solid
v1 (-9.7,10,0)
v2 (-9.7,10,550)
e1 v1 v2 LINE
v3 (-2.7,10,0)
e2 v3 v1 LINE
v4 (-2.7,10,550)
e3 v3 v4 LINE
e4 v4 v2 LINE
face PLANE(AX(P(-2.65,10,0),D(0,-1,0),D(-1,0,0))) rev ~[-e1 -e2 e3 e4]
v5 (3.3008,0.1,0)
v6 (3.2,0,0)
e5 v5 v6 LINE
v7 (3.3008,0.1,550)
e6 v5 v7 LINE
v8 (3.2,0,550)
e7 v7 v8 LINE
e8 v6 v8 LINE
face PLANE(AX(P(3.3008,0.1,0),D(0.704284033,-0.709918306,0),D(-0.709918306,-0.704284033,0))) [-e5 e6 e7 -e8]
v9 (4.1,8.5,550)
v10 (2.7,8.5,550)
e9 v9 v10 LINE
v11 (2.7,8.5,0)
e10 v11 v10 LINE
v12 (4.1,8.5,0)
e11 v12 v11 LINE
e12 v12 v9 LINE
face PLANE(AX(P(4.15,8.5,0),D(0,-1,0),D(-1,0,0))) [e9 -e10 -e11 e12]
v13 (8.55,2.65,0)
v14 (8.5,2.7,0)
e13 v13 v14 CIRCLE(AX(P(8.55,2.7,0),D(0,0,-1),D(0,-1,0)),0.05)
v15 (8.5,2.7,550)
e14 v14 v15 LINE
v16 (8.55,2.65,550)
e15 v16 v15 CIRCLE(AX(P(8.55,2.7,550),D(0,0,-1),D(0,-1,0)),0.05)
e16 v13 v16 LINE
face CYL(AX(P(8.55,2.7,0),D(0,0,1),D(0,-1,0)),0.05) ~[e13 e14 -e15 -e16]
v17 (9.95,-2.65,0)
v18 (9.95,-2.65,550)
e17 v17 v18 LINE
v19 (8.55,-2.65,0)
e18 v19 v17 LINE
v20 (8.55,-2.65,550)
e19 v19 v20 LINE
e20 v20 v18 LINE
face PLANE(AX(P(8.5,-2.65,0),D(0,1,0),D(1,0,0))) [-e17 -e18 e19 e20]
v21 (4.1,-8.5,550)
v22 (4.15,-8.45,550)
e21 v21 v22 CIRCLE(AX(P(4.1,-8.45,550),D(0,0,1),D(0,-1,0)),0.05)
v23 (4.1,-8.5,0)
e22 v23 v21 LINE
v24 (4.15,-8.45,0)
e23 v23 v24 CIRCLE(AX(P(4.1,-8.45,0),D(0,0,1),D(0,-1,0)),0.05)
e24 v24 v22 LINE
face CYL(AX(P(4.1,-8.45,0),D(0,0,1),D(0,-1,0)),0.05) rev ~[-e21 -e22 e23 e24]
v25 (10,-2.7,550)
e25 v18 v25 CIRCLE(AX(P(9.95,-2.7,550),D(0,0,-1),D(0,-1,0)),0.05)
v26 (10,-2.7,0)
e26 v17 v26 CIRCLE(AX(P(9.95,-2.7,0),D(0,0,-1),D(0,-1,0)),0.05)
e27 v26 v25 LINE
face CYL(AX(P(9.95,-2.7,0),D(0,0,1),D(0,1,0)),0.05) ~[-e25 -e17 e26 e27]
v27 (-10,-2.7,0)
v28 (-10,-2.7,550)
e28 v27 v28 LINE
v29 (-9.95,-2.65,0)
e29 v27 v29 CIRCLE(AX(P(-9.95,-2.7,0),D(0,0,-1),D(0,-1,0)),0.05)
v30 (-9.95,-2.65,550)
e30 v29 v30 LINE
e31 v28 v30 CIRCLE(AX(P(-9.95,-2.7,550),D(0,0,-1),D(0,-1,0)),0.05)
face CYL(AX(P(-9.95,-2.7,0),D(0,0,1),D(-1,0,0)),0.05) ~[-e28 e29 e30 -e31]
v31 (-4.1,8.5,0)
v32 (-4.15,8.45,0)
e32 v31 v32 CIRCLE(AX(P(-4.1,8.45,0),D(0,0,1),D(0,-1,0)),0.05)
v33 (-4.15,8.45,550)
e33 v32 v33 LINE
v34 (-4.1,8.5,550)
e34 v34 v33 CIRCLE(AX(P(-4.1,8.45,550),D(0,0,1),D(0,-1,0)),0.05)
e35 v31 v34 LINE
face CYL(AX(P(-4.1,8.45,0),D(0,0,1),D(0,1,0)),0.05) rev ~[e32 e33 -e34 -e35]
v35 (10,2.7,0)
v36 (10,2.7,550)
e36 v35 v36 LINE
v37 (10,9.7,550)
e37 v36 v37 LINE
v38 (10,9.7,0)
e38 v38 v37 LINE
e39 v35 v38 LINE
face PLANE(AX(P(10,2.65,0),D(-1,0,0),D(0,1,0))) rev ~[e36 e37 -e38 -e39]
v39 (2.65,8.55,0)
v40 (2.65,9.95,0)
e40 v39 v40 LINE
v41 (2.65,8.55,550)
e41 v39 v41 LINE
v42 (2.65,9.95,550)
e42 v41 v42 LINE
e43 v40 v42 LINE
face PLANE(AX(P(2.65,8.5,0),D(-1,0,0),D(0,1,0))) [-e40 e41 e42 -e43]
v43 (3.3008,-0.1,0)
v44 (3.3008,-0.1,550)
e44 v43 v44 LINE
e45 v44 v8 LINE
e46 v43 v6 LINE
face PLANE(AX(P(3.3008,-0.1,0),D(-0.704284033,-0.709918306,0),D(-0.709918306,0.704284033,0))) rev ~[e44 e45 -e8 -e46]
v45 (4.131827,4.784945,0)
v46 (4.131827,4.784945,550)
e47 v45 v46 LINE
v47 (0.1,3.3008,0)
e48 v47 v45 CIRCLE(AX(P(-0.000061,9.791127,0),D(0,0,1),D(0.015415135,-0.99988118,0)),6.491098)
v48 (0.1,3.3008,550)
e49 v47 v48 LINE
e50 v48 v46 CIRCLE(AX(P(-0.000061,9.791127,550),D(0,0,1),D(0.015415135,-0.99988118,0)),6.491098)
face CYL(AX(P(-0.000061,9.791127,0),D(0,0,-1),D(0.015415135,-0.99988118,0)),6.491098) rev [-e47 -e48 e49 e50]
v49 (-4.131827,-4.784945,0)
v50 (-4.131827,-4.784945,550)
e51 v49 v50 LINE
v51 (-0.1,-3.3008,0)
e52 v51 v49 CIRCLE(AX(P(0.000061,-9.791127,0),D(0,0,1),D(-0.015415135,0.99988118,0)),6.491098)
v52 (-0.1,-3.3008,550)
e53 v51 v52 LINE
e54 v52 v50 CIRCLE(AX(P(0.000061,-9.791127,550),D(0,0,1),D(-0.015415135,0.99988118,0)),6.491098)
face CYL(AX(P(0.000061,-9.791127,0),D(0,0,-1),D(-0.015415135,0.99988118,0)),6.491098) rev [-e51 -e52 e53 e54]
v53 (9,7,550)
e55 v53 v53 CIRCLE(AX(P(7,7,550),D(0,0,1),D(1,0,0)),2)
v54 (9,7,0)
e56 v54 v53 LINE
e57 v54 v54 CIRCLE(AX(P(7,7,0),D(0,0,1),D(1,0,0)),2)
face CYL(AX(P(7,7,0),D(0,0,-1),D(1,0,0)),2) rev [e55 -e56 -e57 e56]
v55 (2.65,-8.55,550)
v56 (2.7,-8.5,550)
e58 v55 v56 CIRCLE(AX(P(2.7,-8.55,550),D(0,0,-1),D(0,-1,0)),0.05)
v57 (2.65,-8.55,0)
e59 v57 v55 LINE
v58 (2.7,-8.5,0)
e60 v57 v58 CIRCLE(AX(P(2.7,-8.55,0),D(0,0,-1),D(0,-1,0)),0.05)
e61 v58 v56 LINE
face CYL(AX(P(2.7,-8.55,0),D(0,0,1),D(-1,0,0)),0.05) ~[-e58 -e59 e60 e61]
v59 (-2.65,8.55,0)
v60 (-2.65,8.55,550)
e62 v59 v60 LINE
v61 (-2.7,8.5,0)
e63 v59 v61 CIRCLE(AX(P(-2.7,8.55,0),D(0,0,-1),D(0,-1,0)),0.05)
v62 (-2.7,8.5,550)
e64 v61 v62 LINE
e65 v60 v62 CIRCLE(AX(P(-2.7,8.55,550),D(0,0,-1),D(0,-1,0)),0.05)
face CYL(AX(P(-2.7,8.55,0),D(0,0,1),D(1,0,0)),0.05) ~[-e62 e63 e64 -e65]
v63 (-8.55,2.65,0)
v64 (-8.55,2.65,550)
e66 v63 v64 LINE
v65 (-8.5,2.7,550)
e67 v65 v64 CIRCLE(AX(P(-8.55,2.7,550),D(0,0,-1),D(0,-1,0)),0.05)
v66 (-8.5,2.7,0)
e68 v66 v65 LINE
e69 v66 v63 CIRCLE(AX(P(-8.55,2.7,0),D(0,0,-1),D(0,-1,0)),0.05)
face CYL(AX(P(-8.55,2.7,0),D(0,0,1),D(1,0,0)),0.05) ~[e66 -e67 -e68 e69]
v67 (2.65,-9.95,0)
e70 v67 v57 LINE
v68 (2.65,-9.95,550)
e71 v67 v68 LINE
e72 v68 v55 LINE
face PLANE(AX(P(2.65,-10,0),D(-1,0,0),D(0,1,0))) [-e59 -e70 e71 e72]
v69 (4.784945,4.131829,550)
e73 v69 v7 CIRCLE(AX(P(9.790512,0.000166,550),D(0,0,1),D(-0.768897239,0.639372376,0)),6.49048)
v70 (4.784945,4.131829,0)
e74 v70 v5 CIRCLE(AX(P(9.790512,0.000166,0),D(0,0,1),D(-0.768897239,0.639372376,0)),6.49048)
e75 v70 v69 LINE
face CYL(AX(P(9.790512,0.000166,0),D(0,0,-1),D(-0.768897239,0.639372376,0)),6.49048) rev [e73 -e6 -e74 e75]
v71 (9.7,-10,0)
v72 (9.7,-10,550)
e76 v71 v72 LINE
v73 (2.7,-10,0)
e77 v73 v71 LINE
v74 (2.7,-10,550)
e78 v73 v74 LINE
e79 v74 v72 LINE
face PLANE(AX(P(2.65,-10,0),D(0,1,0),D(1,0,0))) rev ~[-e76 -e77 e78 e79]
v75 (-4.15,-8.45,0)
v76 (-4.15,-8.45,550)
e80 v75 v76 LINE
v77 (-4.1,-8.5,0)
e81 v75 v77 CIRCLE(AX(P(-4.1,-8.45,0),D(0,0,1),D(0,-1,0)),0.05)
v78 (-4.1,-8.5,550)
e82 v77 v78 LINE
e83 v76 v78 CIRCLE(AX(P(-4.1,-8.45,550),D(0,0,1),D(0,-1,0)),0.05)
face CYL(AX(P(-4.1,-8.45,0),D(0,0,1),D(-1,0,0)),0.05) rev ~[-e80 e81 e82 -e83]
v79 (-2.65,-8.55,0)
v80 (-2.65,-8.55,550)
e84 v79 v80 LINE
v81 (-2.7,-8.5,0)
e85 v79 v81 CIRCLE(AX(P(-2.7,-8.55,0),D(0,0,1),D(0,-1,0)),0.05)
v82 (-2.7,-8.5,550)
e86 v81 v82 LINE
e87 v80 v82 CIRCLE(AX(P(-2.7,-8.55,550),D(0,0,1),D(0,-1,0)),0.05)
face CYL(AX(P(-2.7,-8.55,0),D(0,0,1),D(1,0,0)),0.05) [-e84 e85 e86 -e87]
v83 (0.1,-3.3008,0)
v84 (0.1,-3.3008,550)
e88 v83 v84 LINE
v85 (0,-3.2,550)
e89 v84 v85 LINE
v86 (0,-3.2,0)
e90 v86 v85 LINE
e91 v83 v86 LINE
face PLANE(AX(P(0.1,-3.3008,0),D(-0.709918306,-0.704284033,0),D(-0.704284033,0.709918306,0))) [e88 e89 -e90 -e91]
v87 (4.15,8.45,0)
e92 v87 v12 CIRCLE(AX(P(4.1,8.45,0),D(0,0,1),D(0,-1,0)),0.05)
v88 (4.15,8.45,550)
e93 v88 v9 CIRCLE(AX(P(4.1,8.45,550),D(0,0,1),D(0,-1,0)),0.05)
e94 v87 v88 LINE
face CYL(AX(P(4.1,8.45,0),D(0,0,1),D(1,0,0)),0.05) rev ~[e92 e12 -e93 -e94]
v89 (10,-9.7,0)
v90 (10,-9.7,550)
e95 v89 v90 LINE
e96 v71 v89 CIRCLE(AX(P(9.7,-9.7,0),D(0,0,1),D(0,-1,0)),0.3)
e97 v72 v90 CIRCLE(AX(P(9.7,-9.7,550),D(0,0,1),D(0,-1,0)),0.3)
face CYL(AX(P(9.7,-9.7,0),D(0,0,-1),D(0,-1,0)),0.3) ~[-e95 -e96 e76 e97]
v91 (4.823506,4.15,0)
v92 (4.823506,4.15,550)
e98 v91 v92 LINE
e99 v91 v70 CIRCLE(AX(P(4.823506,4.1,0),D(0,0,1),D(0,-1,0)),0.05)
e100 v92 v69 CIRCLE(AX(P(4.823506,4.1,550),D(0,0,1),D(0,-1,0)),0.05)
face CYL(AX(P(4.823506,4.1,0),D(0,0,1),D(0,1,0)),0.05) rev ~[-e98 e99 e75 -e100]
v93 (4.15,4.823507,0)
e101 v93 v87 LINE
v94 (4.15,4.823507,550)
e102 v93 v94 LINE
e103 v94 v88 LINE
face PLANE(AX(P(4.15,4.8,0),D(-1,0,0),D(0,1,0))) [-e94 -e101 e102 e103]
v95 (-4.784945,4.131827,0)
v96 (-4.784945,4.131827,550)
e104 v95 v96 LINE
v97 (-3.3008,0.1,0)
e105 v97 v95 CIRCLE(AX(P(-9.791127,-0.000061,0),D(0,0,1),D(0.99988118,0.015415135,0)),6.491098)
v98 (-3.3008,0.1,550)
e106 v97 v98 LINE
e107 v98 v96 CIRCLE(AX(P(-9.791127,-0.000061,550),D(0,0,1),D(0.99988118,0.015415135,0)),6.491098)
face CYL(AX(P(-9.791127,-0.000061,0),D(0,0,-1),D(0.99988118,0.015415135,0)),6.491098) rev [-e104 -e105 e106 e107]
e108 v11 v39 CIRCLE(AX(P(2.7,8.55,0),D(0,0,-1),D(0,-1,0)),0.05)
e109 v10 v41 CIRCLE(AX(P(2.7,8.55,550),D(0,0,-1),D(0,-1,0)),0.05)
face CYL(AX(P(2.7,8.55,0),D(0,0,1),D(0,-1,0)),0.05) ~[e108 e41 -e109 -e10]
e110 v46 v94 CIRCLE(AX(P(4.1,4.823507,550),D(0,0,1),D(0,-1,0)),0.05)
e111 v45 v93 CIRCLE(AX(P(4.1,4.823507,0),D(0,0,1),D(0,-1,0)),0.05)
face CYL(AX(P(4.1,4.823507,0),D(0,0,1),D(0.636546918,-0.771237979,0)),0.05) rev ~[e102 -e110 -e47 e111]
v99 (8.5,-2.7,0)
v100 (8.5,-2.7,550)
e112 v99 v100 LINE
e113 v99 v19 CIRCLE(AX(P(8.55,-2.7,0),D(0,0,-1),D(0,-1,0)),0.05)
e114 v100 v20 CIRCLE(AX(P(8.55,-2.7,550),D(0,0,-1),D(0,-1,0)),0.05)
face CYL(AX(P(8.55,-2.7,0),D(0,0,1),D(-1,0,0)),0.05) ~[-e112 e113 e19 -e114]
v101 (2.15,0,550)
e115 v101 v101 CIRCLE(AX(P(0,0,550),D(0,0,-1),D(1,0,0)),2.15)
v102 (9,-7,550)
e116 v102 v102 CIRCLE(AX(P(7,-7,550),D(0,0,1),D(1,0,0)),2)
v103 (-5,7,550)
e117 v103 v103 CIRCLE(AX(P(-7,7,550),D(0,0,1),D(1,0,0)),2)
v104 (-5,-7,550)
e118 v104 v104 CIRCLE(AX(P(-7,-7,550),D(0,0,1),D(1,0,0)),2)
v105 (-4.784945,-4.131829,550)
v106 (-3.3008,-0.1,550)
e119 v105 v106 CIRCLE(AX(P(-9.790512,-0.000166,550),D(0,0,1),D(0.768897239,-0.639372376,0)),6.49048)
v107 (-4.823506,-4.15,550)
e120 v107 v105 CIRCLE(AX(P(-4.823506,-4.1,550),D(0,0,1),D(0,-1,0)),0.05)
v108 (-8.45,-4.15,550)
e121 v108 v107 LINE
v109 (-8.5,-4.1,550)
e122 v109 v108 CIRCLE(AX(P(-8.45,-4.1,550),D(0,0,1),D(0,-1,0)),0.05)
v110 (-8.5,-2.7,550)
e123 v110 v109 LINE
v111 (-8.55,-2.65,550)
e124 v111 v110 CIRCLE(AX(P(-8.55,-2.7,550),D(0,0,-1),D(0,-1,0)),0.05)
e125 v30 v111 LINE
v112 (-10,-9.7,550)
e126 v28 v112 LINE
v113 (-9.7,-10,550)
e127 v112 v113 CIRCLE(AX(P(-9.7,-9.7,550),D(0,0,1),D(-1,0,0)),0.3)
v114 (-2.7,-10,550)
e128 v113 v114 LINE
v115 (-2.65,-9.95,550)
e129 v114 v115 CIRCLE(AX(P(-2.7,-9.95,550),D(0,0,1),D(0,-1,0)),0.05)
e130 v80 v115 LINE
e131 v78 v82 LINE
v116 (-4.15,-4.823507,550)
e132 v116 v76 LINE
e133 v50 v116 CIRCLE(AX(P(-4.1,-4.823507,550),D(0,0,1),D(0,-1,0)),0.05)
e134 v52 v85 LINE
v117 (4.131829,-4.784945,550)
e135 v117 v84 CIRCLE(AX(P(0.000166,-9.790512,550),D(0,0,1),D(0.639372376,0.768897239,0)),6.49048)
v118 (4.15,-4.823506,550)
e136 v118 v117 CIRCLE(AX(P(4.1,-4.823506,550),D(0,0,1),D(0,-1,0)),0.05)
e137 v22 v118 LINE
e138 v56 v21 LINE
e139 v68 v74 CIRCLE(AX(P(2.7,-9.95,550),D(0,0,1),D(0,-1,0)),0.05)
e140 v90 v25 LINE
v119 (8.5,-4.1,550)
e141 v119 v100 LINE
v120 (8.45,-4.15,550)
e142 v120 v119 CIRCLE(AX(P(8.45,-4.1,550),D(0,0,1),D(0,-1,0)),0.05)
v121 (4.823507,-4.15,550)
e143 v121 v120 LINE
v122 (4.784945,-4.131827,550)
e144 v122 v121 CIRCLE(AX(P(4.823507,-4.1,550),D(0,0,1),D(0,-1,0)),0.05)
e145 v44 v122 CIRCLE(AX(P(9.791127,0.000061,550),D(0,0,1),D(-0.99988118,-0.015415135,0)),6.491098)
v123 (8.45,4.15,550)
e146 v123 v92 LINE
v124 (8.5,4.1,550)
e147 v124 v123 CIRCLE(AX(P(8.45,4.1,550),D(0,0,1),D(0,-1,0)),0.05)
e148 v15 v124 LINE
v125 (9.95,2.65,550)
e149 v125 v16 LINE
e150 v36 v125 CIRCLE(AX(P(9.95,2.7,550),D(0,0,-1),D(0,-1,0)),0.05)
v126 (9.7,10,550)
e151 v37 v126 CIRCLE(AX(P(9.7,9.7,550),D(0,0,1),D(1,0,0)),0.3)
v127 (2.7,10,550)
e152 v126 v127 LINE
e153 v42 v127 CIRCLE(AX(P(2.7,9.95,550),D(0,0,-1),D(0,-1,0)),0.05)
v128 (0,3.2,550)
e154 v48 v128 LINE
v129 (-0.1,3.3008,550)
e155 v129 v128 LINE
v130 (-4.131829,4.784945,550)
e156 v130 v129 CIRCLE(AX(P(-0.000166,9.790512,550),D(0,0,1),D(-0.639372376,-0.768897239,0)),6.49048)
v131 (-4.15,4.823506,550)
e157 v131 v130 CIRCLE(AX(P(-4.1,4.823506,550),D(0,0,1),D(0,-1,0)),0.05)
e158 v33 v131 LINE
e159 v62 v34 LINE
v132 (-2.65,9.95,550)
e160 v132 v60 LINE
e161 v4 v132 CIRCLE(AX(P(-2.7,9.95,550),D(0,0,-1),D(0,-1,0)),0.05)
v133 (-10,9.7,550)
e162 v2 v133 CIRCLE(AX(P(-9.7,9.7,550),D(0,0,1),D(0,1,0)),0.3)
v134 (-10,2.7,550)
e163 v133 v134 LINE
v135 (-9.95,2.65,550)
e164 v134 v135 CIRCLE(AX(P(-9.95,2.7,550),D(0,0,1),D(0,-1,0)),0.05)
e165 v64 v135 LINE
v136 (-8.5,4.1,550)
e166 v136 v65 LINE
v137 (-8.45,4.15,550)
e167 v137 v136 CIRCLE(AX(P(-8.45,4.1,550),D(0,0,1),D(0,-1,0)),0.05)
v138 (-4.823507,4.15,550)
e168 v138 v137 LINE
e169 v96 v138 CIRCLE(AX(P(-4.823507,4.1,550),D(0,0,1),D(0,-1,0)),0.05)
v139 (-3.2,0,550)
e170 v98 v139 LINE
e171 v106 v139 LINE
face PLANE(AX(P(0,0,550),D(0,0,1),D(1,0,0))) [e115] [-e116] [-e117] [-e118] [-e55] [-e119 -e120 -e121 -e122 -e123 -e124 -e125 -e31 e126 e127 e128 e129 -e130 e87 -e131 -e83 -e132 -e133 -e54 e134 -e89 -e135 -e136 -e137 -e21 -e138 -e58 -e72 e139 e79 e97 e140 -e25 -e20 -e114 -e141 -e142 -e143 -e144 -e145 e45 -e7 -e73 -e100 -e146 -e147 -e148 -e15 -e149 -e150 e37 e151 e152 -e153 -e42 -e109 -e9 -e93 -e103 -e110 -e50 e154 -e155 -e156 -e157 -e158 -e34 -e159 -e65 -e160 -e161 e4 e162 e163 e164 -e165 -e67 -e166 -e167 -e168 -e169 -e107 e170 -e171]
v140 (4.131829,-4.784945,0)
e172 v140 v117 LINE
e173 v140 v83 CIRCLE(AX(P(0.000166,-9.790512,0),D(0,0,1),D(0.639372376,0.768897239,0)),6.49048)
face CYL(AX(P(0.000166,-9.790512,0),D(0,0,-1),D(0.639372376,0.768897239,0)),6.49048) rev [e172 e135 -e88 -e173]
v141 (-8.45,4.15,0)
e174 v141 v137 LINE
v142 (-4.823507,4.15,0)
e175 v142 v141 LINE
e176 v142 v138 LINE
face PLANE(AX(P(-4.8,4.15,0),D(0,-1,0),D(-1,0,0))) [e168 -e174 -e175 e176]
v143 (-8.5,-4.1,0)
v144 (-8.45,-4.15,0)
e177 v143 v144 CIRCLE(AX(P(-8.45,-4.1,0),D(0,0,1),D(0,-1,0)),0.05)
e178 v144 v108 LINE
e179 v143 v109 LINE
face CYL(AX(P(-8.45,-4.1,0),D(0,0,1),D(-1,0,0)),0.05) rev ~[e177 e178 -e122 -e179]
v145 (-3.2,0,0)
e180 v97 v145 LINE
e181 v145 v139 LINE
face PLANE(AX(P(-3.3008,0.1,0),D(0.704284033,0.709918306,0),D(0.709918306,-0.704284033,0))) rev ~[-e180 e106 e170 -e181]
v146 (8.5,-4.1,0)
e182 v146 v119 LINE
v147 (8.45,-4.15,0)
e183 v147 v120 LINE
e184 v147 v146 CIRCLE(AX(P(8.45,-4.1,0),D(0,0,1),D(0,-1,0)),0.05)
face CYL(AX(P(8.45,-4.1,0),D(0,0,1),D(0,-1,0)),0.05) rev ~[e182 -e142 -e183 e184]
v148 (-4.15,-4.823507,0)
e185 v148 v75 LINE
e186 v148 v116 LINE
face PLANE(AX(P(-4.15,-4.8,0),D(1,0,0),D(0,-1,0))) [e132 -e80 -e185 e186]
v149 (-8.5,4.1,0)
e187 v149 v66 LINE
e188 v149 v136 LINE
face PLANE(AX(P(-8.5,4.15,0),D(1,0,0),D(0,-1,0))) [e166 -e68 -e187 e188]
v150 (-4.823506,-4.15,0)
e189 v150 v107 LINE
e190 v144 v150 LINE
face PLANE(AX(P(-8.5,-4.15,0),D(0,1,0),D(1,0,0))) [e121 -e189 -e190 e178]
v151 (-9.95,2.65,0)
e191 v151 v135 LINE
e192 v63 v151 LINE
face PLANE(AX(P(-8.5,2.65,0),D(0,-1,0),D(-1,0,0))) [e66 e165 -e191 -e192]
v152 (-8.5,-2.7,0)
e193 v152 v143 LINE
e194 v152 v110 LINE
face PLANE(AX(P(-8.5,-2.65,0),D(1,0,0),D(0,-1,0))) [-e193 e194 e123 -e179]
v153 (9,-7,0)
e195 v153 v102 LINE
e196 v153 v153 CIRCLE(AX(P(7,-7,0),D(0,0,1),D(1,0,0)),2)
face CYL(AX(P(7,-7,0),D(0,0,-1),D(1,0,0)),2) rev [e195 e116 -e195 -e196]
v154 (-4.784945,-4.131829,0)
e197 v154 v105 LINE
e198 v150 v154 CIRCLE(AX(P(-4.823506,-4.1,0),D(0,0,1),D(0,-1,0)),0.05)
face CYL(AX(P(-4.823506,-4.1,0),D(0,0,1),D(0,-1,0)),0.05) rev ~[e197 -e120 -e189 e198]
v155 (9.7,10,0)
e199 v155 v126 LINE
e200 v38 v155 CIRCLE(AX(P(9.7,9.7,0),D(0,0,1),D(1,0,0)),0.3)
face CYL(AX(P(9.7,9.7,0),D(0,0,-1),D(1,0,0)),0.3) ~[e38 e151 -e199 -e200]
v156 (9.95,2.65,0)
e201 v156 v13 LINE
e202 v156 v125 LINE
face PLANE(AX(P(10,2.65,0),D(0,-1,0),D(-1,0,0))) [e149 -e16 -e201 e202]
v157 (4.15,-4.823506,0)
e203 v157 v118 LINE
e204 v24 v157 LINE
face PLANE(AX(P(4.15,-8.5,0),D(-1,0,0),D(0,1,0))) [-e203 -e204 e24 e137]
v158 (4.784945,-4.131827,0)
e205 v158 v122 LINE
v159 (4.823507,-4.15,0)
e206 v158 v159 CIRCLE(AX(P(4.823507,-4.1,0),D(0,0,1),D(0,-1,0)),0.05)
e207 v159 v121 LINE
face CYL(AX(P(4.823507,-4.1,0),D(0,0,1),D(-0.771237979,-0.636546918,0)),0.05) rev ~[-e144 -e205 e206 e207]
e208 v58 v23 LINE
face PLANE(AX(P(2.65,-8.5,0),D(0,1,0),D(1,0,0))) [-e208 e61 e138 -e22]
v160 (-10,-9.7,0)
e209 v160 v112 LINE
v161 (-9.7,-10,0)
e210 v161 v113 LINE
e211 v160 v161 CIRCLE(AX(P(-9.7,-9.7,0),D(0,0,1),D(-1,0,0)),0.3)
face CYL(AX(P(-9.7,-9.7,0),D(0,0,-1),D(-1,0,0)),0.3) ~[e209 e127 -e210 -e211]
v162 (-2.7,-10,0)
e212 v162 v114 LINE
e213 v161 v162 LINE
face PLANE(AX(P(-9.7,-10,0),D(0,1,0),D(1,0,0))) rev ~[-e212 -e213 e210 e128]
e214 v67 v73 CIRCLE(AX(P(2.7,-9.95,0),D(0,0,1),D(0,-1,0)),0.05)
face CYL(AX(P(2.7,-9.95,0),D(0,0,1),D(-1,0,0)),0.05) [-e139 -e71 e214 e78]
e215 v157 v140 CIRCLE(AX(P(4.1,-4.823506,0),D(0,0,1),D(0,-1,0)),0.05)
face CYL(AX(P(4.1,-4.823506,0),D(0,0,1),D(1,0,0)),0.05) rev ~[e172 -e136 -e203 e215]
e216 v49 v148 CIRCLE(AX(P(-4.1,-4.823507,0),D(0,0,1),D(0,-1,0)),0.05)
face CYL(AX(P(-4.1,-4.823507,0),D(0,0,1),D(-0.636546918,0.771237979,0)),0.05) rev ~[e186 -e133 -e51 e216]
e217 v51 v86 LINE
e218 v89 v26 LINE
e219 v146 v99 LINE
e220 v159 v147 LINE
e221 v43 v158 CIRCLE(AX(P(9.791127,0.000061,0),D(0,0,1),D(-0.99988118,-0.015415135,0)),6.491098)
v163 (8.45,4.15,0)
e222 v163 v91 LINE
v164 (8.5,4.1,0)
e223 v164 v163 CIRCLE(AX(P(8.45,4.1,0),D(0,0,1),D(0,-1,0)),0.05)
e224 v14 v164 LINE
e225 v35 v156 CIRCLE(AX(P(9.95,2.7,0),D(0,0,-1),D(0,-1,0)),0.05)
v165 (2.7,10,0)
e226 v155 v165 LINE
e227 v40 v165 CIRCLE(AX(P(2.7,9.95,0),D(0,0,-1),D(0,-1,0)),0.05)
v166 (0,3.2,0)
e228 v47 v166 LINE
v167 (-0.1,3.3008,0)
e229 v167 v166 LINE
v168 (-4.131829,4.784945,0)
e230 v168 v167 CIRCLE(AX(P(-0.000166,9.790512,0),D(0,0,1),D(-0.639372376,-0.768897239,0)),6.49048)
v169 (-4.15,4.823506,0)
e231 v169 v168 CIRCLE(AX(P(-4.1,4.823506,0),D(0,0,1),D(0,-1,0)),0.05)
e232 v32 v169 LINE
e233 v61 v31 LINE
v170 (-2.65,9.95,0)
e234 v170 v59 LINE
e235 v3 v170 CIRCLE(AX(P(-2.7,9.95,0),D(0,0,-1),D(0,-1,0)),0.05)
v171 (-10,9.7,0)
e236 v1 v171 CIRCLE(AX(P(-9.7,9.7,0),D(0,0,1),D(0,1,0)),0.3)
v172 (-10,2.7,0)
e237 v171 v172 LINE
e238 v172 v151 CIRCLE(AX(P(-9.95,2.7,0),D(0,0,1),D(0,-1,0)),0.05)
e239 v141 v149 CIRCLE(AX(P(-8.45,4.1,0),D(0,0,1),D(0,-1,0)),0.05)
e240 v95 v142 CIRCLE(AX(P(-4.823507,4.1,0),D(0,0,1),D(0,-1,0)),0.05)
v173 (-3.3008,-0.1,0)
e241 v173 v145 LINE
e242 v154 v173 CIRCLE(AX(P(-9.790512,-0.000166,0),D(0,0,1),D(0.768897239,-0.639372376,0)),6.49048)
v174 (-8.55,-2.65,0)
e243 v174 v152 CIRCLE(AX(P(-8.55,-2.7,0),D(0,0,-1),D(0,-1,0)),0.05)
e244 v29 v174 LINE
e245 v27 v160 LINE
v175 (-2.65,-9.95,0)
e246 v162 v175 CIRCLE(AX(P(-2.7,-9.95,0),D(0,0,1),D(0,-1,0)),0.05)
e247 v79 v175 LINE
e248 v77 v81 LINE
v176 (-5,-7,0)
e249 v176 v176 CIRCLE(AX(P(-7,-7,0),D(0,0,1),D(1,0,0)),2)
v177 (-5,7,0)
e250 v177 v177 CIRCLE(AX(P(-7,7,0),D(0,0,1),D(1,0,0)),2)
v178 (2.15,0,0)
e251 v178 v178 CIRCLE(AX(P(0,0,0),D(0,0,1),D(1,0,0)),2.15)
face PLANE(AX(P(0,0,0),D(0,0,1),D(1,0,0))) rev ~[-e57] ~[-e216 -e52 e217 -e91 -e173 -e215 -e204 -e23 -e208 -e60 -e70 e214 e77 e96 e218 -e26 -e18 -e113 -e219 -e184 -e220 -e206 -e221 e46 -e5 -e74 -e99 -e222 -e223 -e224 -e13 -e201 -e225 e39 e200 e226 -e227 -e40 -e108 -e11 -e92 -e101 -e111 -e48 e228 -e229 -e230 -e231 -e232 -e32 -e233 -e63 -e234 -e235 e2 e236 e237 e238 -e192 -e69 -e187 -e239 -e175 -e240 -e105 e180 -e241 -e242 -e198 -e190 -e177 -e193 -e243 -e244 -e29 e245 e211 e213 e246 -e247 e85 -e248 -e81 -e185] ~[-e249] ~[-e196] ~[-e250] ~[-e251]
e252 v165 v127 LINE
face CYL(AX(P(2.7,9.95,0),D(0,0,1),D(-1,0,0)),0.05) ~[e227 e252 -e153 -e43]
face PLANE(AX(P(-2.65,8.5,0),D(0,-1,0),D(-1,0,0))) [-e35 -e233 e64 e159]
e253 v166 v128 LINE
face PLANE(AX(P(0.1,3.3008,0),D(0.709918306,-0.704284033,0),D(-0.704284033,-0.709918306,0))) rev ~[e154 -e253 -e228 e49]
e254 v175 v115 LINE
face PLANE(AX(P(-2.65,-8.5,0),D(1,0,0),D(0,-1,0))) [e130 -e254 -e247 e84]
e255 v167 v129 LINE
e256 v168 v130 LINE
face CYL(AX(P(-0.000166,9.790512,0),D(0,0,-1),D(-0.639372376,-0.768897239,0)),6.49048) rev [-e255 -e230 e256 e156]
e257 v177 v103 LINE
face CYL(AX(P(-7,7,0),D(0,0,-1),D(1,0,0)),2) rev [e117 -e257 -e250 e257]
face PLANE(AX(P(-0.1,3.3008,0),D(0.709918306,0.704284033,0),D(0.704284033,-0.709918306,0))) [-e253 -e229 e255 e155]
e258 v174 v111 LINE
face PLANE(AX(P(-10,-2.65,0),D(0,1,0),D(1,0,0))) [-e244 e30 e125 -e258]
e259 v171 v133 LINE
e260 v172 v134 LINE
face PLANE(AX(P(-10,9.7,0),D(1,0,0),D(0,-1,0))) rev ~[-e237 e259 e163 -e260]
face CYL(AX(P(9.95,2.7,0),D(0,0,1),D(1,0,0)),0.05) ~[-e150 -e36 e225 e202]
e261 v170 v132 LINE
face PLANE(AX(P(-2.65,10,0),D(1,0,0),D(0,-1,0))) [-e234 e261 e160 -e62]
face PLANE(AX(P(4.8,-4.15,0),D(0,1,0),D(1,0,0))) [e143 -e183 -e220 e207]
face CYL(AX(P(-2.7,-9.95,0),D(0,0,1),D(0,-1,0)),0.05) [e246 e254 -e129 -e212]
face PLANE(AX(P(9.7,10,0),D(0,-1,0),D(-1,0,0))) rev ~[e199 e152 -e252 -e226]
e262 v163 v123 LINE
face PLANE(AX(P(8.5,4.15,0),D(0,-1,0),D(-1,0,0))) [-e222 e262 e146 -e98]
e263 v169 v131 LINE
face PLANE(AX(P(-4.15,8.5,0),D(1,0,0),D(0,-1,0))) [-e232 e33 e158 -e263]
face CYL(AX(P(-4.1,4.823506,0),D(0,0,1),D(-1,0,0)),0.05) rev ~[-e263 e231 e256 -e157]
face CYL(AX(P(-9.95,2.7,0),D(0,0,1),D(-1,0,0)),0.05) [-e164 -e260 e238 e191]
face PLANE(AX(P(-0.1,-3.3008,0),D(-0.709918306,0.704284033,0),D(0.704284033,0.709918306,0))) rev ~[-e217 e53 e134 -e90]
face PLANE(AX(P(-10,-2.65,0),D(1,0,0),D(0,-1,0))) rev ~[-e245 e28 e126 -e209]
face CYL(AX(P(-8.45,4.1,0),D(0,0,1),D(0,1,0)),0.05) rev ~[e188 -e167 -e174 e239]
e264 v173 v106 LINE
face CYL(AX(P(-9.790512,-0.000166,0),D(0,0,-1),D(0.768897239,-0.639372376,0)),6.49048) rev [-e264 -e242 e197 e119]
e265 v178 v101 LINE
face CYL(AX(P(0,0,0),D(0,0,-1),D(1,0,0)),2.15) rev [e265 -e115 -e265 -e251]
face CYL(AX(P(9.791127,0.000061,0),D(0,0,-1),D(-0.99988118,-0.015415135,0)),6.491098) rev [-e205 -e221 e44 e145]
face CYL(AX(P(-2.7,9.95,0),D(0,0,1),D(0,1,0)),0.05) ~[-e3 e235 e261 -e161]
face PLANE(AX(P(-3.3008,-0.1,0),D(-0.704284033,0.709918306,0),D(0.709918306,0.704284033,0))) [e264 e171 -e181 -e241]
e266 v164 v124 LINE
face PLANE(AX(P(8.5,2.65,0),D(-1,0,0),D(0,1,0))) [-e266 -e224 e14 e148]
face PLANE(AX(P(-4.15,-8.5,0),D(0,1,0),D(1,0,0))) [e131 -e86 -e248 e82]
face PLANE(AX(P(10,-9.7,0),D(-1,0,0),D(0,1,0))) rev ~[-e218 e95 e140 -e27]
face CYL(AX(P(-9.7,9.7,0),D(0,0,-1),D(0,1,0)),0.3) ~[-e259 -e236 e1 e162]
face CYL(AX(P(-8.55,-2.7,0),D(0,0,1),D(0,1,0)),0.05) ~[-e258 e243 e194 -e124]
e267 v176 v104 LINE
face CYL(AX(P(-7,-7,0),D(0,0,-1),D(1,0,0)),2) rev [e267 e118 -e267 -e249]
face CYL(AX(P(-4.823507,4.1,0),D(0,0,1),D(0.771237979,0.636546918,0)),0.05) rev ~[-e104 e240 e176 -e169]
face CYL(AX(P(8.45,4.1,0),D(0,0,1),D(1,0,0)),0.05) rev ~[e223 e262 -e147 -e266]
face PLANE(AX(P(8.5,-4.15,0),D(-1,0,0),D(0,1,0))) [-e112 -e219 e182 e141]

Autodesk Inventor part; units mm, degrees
ref_plane "YZ Plane" through (0, 0, 0) normal (1, 0, 0) x (0, 1, 0)
ref_plane "XZ Plane" through (0, 0, 0) normal (0, 1, 0) x (-1, 0, 0)
ref_plane "XY Plane" through (0, 0, 0) normal (0, 0, 1) x (1, 0, 0)
sketch "스케치1" plane through (0, 0, 0) normal (0, 0, 1) x (1, 0, 0)
  line L0 (-9.7, -10) -> (9.7, -10)
  line L1 (10, -9.7) -> (10, 9.7)
  line L2 (9.7, 10) -> (-9.7, 10)
  line L3 (-10, 9.7) -> (-10, -9.7)
  line L4 (-10, -10) -> (10, 10) construction
  line L5 (10, -10) -> (-10, 10) construction
  circle A0 centre (-7, 7) radius 2
  line L6 (0, 15.6683) -> (0, -20)
  line L7 (-22.0072, 0) -> (22.0072, 0)
  circle A1 centre (0, 0) radius 2.15
  arc A2 (-9.7, 10) -> (-10, 9.7) centre (-9.7, 9.7) ccw
  arc A3 (10, 9.7) -> (9.7, 10) centre (9.7, 9.7) ccw
  arc A4 (9.7, -10) -> (10, -9.7) centre (9.7, -9.7) ccw
  arc A5 (-10, -9.7) -> (-9.7, -10) centre (-9.7, -9.7) ccw
  line L8 (-2.65, 10) -> (-2.65, 8.5)
  line L9 (-2.65, 8.5) -> (-4.15, 8.5)
  line L10 (-4.15, 8.5) -> (-4.15, 4.8)
  line L11 (4.15, 4.8) -> (4.15, 8.5)
  line L12 (4.15, 8.5) -> (2.65, 8.5)
  line L13 (2.65, 8.5) -> (2.65, 10)
  line L14 (-0.1, 3.3008) -> (0, 3.2)
  line L15 (0.1, 3.3008) -> (0, 3.2)
  arc A6 (-4.15, 4.8) -> (-0.1, 3.3008) centre (0, 9.7908) ccw
  arc A7 (0.1, 3.3008) -> (4.15, 4.8) centre (0, 9.7908) ccw
  circle A8 centre (7, 7) radius 2
  circle A9 centre (-7, -7) radius 2
  circle A10 centre (7, -7) radius 2
  line L16 (-3.3008, 0.1) -> (-3.2, 0)
  line L17 (-3.3008, -0.1) -> (-3.2, 0)
  arc A11 (-4.8, -4.15) -> (-3.3008, -0.1) centre (-9.7908, 0) ccw
  line L18 (-8.5, -4.15) -> (-4.8, -4.15)
  line L19 (-10, -2.65) -> (-8.5, -2.65)
  line L20 (-8.5, 2.65) -> (-10, 2.65)
  arc A12 (-3.3008, 0.1) -> (-4.8, 4.15) centre (-9.7908, 0) ccw
  line L21 (-4.8, 4.15) -> (-8.5, 4.15)
  line L22 (-8.5, 4.15) -> (-8.5, 2.65)
  line L23 (-8.5, -2.65) -> (-8.5, -4.15)
  line L24 (-0.1, -3.3008) -> (0, -3.2)
  line L25 (0.1, -3.3008) -> (0, -3.2)
  arc A13 (4.15, -4.8) -> (0.1, -3.3008) centre (0, -9.7908) ccw
  line L26 (4.15, -8.5) -> (4.15, -4.8)
  line L27 (2.65, -10) -> (2.65, -8.5)
  line L28 (-2.65, -8.5) -> (-2.65, -10)
  arc A14 (-0.1, -3.3008) -> (-4.15, -4.8) centre (0, -9.7908) ccw
  line L29 (-4.15, -4.8) -> (-4.15, -8.5)
  line L30 (-4.15, -8.5) -> (-2.65, -8.5)
  line L31 (2.65, -8.5) -> (4.15, -8.5)
  line L32 (3.3008, -0.1) -> (3.2, 0)
  line L33 (3.3008, 0.1) -> (3.2, 0)
  arc A15 (4.8, 4.15) -> (3.3008, 0.1) centre (9.7908, 0) ccw
  line L34 (8.5, 4.15) -> (4.8, 4.15)
  line L35 (10, 2.65) -> (8.5, 2.65)
  line L36 (8.5, -2.65) -> (10, -2.65)
  arc A16 (3.3008, -0.1) -> (4.8, -4.15) centre (9.7908, 0) ccw
  line L37 (4.8, -4.15) -> (8.5, -4.15)
  line L38 (8.5, -4.15) -> (8.5, -2.65)
  line L39 (8.5, 2.65) -> (8.5, 4.15)
  point P0 (2.65, 9.25)
  point P1 (-2.65, 9.25)
  point P2 (-4.15, 6.65)
  point P3 (0, 3.3)
  point P4 (-3.3, 0)
  point P5 (-9.25, -2.65)
  point P6 (-6.65, -4.15)
  point P7 (-9.25, 2.65)
  point P8 (0, -3.3)
  point P9 (2.65, -9.25)
  point P10 (4.15, -6.65)
  point P11 (-2.65, -9.25)
  point P12 (3.3, 0)
  point P13 (9.25, 2.65)
  point P14 (6.65, 4.15)
  point P15 (9.25, -2.65)
  dimension "d0" = 20
  dimension "d1" = 20
  dimension "d2" = 4
  dimension "d3" = 14
  dimension "d4" = 14
  dimension "d5" = 4.3
  dimension "d6" = 0.3
  dimension "d9" = 8.3
  dimension "d10" = 5.3
  dimension "d11" = 5.3
  dimension "d12" = 1.5
  dimension "d15" = 0.1
  dimension "d16" = 0.1
  dimension "d17" = 0.1
  dimension "d19" = 3.7
  dimension "d22" = 360
extrude "프로파일 길이 설정" add sketch "스케치1" along normal blind 550 contours A5 L3 L19 L23 L18 A11 L17 L7 A1 L6 L24 A14 L29 L30 L28 L0 | L27 L31 L26 A13 L25 L6 A1 L7 L32 A16 L37 L38 L36 L1 A4 L0 | L3 A2 L2 L8 L9 L10 A6 L14 L6 A1 L7 L16 A12 L21 L22 L20 | A1 L6 L15 A7 L11 L12 L13 L2 A3 L1 L35 L39 L34 A15 L33 L7
fillet "모서리" radius 0.05 32 edges at (10, 2.65, 275) (8.5, 2.65, 275) (8.5, 4.15, 275) (10, -2.65, 275) (8.5, -2.65, 275) (8.5, -4.15, 275) (2.65, 8.5, 275) (2.65, 10, 275) (4.15, 8.5, 275) (-4.15, 8.5, 275) (-2.65, 8.5, 275) (-2.65, 10, 275) (-10, 2.65, 275) (-8.5, 2.65, 275) (-8.5, 4.15, 275) (-8.5, -4.15, 275) (-8.5, -2.65, 275) (-10, -2.65, 275) (-2.65, -10, 275) (-2.65, -8.5, 275) (-4.15, -8.5, 275) (2.65, -8.5, 275) (4.15, -8.5, 275) (2.65, -10, 275) (4.15, -4.8, 275) (-4.15, -4.8, 275) (-4.8, -4.15, 275) (-4.8, 4.15, 275) (-4.15, 4.8, 275) (4.15, 4.8, 275) (4.8, -4.15, 275) (4.8, 4.15, 275)
equation "\"d0\" = d1"
equation "\"d11\" = d10"
equation "\"d17\" = d16"
properties part number "20x20 Profile"
